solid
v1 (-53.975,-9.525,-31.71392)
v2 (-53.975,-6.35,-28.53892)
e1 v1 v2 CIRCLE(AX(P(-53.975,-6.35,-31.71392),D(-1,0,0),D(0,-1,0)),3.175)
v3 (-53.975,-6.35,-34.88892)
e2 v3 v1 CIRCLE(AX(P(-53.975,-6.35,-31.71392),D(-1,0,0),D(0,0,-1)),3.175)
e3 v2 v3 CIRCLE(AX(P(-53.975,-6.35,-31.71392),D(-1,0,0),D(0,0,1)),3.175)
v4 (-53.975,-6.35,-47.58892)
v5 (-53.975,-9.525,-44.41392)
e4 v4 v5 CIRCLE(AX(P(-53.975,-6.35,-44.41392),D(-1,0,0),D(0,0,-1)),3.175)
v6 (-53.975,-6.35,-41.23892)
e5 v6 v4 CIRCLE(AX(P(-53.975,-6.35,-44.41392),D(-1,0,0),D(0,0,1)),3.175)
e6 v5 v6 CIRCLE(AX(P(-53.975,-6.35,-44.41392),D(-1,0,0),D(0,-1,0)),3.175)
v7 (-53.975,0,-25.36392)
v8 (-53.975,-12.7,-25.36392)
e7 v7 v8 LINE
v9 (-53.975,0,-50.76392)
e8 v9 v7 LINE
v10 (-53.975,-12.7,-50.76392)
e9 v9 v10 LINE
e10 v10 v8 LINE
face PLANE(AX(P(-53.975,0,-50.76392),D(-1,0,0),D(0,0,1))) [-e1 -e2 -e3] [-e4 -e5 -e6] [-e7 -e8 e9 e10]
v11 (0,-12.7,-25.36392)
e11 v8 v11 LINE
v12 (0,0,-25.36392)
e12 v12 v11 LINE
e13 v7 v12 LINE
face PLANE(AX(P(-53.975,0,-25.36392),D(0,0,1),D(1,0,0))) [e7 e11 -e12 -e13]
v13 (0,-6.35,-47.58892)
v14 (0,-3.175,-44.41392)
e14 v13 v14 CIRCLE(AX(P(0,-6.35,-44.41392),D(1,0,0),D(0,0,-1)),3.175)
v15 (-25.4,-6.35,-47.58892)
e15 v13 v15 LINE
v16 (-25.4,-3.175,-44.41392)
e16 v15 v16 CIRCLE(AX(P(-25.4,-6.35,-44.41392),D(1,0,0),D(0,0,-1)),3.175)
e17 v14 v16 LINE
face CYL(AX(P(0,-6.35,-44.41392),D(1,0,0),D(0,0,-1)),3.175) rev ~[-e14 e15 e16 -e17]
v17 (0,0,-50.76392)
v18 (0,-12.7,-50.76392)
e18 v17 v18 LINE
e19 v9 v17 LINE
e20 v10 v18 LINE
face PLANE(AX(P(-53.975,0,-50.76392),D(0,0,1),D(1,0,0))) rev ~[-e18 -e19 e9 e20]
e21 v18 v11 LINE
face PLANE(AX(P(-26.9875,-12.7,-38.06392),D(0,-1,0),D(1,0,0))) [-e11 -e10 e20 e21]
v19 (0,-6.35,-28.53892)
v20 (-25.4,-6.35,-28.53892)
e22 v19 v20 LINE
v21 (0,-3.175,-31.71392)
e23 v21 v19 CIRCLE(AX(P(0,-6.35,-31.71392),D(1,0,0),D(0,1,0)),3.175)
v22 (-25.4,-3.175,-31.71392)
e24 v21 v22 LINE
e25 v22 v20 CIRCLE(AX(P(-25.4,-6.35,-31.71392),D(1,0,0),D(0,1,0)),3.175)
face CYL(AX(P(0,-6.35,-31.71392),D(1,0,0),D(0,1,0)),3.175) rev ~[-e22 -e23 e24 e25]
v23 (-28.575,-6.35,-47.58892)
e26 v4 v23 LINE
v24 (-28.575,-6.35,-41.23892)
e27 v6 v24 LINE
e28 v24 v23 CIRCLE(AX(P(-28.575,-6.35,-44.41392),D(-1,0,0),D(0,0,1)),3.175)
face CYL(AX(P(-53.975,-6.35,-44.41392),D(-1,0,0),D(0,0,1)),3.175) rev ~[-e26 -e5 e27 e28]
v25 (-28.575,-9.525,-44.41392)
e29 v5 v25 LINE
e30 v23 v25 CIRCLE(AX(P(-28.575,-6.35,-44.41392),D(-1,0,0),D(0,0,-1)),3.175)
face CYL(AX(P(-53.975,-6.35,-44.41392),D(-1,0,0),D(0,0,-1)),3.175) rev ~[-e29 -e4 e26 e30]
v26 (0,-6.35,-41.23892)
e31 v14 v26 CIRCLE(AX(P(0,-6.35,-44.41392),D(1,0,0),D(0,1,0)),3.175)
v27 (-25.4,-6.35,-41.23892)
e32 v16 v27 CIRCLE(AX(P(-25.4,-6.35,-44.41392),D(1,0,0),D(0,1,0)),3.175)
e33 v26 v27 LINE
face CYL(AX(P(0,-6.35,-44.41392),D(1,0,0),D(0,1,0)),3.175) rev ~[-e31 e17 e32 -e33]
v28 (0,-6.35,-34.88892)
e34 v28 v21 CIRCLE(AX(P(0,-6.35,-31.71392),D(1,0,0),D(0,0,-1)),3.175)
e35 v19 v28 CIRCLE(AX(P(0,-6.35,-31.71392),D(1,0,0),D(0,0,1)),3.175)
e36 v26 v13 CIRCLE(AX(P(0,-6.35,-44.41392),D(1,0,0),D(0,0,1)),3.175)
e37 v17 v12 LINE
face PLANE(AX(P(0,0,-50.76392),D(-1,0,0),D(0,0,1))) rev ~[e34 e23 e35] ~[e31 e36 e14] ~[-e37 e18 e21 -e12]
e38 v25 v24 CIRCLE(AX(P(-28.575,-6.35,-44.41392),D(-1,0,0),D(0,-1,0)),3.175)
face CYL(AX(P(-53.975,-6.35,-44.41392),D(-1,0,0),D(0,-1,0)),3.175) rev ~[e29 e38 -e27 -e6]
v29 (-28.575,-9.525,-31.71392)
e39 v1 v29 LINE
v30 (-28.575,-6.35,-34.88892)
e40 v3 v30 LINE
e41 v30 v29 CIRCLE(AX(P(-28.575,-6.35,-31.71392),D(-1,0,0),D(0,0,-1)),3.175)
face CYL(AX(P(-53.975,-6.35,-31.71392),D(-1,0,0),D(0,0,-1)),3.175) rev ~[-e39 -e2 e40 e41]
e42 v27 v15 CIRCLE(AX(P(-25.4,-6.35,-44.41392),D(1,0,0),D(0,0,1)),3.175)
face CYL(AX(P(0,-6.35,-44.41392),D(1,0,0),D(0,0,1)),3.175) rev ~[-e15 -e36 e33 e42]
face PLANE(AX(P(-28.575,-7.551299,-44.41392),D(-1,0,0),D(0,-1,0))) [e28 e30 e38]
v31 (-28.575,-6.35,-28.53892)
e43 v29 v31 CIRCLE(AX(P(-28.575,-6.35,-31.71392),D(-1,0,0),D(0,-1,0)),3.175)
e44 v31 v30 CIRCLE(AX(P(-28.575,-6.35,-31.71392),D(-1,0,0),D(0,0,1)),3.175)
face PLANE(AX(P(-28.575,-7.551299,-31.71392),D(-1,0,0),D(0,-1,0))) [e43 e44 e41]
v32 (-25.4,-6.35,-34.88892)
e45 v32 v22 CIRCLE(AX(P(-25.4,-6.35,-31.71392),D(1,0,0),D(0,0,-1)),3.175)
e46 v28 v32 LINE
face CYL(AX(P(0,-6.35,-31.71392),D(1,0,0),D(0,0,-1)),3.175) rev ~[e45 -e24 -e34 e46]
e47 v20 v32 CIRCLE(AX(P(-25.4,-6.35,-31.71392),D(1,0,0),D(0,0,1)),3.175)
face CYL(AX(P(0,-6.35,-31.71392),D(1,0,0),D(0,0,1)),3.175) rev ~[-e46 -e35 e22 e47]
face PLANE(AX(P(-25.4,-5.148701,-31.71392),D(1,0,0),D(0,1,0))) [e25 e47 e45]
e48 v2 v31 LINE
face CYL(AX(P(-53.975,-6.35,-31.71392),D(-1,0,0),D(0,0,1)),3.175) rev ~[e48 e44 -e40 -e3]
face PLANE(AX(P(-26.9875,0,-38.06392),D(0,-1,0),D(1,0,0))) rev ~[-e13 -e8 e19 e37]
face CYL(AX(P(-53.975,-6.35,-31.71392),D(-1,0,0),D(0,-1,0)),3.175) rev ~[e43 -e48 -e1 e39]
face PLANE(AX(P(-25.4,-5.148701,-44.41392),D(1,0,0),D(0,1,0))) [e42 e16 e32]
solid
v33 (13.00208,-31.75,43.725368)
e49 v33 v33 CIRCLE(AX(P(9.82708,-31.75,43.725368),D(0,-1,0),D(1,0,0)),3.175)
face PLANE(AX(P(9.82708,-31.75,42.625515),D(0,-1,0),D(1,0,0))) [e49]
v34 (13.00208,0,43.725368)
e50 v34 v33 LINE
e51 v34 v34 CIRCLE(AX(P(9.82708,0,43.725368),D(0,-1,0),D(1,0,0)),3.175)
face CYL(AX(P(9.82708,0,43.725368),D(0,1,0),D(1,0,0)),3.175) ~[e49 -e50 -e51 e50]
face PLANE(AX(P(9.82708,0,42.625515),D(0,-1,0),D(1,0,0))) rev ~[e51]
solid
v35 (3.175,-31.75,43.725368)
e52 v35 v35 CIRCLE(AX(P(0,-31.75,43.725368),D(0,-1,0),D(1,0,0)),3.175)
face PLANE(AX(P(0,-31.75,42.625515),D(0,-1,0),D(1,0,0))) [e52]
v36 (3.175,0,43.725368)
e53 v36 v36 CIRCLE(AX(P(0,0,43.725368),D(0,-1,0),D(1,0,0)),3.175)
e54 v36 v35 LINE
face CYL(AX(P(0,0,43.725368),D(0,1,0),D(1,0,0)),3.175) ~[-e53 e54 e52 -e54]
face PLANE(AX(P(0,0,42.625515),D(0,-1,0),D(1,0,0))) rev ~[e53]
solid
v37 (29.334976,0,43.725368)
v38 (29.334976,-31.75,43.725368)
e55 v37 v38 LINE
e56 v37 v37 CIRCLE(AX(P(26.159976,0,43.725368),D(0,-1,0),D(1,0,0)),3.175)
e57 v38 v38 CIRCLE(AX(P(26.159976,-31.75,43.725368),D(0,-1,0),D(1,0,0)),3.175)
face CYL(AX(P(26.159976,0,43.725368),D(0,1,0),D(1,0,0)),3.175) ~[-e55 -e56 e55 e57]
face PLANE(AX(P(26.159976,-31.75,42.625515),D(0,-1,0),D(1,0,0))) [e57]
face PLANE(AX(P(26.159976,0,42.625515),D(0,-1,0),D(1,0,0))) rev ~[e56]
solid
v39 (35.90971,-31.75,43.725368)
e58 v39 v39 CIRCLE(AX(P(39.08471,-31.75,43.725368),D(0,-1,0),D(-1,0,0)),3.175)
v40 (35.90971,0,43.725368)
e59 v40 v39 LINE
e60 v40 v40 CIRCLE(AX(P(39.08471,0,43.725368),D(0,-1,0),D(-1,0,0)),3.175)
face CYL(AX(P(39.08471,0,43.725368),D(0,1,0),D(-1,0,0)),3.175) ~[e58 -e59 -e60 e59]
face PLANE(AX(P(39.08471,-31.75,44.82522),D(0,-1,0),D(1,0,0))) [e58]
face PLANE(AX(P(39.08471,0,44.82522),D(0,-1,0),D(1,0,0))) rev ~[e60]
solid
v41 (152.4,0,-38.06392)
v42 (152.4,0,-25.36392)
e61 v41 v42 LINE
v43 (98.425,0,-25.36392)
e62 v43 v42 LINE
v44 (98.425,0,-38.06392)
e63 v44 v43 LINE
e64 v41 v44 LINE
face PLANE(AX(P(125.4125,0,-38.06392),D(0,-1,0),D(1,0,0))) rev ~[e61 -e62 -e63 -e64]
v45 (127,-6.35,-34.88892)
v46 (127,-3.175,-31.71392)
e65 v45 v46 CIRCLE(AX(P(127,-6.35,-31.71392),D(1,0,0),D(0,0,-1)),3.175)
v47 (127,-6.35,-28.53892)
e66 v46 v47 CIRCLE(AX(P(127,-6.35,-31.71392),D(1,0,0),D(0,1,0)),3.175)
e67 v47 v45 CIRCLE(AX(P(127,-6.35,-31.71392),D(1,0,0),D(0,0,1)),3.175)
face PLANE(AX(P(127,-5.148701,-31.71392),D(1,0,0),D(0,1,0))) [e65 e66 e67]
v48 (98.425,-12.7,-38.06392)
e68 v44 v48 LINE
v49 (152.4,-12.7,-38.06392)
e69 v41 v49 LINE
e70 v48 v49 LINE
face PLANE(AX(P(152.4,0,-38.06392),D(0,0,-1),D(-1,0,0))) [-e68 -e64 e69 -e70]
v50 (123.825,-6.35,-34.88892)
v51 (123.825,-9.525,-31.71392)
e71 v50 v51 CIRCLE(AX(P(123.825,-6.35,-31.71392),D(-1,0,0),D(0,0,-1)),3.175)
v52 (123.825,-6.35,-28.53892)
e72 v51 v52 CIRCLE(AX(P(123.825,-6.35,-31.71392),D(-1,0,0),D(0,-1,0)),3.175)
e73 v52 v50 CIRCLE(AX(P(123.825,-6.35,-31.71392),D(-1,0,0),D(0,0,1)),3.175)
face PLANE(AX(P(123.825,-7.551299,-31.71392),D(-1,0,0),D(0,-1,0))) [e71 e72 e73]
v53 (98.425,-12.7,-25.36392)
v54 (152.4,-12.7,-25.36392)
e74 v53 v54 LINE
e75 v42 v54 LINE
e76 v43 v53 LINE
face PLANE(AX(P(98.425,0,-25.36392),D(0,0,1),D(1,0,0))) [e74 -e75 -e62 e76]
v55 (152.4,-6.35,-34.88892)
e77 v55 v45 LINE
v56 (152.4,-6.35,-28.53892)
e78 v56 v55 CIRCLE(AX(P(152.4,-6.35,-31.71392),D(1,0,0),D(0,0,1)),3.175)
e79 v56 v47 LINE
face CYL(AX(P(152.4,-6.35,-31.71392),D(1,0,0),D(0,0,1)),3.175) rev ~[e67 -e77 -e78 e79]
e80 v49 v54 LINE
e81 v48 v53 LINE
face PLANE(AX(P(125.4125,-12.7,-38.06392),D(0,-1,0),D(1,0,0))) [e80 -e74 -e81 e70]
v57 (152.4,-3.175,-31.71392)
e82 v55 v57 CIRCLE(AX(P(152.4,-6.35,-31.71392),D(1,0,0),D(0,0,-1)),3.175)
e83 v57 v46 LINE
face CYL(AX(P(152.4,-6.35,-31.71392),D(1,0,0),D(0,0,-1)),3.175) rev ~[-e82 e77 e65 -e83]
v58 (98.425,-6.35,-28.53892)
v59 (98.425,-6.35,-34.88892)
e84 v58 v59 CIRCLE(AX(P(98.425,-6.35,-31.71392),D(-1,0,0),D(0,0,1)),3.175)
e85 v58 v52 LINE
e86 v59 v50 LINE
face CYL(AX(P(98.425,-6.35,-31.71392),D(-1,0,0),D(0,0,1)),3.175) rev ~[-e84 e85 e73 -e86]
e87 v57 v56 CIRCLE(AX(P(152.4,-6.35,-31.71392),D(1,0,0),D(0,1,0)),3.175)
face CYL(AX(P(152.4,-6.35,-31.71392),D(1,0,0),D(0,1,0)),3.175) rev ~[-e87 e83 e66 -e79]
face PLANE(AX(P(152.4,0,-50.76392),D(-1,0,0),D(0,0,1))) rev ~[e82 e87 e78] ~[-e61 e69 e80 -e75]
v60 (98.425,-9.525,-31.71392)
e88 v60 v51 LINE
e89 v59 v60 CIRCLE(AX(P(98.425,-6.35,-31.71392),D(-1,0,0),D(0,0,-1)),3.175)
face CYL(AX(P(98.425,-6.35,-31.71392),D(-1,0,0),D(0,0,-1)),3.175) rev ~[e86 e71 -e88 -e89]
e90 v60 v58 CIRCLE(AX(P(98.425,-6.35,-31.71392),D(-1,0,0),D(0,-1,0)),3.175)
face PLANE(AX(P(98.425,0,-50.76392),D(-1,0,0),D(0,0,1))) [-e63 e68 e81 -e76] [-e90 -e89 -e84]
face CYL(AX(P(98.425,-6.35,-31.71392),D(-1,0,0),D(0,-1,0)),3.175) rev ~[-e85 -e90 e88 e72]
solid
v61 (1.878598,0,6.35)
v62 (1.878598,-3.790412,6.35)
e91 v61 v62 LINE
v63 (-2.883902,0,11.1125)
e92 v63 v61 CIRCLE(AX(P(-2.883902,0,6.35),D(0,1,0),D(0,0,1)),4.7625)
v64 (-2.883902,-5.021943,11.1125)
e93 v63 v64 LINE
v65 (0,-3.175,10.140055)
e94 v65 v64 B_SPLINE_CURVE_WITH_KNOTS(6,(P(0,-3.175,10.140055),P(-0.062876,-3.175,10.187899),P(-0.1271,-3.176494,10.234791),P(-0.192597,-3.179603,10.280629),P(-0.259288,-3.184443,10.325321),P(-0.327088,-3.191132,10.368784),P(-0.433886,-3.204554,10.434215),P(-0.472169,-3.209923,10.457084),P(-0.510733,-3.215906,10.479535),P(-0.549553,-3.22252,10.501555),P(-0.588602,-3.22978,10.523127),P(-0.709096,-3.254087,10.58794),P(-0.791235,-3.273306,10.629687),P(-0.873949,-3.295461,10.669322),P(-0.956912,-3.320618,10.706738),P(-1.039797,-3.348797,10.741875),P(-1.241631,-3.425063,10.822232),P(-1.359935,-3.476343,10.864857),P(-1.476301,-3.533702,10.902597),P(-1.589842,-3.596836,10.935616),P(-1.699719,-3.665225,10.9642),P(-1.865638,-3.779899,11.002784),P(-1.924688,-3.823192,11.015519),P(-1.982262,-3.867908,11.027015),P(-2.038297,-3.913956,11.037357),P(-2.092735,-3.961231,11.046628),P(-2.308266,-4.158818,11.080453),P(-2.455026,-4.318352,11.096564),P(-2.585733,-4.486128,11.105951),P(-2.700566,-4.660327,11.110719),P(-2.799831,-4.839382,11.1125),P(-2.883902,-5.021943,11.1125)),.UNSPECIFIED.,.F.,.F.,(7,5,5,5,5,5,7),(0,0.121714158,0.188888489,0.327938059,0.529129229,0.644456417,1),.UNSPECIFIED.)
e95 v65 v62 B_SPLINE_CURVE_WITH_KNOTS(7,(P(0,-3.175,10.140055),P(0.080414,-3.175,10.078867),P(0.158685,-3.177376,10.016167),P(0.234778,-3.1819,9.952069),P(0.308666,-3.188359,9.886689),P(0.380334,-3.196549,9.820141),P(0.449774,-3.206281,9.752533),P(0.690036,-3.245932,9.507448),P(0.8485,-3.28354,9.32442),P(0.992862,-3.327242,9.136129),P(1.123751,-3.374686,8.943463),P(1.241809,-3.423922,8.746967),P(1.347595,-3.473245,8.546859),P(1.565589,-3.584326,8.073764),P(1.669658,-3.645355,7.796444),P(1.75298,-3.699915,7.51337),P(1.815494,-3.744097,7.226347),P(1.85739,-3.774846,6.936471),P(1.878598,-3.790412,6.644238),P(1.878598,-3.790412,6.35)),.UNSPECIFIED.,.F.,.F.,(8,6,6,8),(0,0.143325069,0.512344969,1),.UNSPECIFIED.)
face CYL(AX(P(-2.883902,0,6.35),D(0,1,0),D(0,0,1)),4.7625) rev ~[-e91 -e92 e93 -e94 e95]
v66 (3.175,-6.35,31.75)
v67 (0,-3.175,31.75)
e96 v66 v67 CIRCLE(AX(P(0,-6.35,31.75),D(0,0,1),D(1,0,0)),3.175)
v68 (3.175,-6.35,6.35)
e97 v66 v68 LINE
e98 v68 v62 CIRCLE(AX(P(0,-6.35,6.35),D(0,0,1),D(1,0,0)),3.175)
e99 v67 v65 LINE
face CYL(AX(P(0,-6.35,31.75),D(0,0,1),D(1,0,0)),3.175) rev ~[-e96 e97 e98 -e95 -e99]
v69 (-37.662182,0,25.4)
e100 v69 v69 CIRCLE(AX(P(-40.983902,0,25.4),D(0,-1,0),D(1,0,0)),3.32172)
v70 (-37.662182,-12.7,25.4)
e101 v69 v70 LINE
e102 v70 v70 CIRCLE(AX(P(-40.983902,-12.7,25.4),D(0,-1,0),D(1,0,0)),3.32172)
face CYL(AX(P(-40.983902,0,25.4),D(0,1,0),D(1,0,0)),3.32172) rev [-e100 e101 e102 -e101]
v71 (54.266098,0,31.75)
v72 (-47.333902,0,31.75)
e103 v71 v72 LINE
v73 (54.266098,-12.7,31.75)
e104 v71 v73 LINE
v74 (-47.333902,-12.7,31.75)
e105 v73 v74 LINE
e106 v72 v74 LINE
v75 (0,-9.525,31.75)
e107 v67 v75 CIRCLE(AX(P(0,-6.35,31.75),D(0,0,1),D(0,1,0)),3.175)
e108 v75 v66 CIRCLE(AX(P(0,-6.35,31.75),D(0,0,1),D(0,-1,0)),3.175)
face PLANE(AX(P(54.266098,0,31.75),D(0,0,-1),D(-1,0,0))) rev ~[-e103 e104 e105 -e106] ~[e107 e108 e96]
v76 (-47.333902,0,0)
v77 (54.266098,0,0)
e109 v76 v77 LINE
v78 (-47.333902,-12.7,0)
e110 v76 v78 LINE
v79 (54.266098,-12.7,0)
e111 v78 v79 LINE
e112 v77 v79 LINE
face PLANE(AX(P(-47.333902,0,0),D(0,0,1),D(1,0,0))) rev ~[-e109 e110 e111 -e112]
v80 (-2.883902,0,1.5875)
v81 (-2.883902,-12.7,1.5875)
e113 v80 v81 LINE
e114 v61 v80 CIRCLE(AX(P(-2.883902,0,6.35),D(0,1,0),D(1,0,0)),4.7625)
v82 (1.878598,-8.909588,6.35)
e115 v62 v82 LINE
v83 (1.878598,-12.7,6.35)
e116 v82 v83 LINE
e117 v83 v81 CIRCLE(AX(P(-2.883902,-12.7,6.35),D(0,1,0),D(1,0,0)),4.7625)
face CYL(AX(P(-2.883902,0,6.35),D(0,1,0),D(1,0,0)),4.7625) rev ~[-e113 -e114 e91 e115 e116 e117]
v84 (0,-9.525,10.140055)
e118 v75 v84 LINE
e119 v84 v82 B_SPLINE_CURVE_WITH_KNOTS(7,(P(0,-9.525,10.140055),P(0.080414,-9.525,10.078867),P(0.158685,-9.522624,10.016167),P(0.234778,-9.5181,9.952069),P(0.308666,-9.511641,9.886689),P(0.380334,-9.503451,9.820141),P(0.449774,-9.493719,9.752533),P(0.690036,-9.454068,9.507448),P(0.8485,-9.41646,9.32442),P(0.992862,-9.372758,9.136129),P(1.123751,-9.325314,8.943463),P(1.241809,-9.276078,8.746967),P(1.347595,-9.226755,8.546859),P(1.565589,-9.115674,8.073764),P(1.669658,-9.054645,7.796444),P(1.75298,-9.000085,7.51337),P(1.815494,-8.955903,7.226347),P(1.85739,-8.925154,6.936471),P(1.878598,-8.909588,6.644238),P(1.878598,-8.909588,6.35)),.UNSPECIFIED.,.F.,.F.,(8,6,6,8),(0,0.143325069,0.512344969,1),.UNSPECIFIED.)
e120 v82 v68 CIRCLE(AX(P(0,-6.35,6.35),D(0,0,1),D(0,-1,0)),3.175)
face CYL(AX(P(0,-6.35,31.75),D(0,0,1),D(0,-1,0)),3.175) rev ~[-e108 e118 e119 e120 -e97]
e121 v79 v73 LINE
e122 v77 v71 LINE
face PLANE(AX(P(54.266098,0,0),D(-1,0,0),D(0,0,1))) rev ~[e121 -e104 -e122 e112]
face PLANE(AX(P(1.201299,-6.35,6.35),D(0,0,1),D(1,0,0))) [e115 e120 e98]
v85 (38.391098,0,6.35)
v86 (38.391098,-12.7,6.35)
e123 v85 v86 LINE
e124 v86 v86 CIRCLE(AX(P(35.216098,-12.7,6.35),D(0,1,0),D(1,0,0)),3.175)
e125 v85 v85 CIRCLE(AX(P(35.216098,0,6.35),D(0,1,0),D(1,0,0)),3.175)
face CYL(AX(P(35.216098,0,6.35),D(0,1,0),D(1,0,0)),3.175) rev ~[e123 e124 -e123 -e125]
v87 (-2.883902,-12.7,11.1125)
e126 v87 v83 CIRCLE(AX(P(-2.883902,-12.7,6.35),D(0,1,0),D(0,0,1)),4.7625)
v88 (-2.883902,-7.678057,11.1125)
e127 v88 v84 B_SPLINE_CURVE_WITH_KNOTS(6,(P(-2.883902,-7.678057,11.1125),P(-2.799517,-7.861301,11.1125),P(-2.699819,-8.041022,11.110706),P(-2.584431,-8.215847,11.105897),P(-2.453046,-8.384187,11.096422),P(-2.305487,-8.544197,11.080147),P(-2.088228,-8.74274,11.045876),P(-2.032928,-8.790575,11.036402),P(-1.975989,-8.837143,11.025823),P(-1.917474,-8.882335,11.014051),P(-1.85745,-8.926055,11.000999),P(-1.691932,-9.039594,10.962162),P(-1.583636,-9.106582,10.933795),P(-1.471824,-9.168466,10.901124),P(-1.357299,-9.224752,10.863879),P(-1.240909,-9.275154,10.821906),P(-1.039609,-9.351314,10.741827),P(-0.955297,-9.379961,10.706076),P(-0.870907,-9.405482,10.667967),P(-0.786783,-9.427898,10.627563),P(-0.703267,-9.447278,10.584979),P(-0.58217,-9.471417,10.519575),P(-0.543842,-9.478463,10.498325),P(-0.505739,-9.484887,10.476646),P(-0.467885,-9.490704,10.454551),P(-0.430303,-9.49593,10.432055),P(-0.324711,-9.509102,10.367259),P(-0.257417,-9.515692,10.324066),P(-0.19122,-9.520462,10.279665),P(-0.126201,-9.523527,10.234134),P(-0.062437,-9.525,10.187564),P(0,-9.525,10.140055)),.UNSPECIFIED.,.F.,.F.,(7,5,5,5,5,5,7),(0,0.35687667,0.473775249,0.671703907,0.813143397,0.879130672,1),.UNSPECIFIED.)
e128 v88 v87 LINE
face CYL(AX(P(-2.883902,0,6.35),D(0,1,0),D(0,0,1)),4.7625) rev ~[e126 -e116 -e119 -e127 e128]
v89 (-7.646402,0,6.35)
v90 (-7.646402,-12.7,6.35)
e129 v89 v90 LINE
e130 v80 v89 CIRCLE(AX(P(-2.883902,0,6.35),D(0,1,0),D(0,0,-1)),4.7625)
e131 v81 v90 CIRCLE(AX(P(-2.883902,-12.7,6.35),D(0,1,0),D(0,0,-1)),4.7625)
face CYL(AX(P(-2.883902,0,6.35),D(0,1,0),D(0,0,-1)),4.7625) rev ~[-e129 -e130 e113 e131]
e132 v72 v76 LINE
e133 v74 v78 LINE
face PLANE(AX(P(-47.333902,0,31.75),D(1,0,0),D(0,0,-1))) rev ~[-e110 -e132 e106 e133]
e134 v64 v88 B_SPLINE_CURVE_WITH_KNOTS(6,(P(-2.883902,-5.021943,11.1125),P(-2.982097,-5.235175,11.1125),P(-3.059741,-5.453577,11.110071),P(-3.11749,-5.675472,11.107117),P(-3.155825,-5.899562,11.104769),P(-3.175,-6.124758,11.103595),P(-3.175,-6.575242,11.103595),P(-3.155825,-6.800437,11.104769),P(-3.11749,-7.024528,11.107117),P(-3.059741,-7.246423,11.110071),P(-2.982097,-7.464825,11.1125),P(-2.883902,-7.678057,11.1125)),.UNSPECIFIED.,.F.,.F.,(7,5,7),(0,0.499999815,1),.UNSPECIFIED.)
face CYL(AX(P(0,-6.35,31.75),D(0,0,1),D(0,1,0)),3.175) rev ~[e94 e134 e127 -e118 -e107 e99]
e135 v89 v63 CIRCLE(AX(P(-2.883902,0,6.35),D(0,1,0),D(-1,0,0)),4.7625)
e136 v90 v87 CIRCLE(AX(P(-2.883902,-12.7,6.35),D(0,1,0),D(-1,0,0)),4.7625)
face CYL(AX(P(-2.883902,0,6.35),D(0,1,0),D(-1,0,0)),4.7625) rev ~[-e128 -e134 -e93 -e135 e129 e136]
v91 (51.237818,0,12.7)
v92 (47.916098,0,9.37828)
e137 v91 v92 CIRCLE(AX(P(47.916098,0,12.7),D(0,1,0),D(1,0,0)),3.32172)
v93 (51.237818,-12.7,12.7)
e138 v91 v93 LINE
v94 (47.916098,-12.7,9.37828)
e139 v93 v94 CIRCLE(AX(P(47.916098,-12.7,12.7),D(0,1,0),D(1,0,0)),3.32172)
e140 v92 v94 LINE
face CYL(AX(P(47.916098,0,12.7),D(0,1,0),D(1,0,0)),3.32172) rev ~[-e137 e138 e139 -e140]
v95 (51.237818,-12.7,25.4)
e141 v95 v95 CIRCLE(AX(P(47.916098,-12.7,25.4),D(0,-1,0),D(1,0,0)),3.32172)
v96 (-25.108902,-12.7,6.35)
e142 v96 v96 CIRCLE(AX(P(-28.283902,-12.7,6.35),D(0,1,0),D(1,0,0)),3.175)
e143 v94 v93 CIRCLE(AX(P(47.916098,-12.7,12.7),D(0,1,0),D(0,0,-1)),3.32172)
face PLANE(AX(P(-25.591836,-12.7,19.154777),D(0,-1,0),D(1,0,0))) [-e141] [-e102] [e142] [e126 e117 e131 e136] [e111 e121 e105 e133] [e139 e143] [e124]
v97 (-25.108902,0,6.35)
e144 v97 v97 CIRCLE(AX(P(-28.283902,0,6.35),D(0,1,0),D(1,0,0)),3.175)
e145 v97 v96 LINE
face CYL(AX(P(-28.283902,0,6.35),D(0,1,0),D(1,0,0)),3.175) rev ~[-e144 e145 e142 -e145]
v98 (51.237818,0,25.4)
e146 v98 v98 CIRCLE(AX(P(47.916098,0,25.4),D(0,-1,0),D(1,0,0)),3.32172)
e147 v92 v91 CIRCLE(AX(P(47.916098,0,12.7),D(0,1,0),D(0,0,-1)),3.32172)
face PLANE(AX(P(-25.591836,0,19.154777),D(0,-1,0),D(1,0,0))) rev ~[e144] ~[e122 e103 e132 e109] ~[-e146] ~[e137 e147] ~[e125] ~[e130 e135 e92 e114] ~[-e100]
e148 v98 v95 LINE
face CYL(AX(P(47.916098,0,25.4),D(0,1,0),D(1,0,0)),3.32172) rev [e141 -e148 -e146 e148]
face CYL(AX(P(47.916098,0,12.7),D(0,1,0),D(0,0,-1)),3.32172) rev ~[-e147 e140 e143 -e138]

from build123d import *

# Parameters (mm, degrees)
F0_R      = 3.3217197239
F0_W      = 6.35
F0_H      = 6.35
F1_DEPTH  = 12.7
F0_W_2    = 53.975
F0_H_2    = 25.4
F3_DEPTH  = 25.4
F5_DEPTH  = 25.4
F7_DEPTH  = 31.75
F9_DEPTH  = 25.4
F11_W     = 53.975
F11_H     = 12.7
F12_DEPTH = 25.4


with BuildPart() as f1:
    # F0 (on Front) → F1 (new body)
    with BuildSketch(Plane.XZ):
        with BuildLine():
            Line((-2.8839016237, 31.75), (-47.3339016237, 31.75))
            Line((-47.3339016237, 31.75), (-47.3339016237, 6.35))
            Line((-47.3339016237, 6.35), (-31.4589016237, 6.35))
            ThreePointArc((-31.4589016237, 6.35), (-28.2839016237, 9.525), (-25.1089016237, 6.35))
            Line((-25.1089016237, 6.35), (-7.6464016237, 6.35))
            ThreePointArc((-7.6464016237, 6.35), (-6.2514976691, 9.7175960454), (-2.8839016237, 11.1125))
            Line((-2.8839016237, 11.1125), (-2.8839016237, 31.75))
        make_face()
        with Locations((-40.9839016237, 25.4)):
            Circle(F0_R, mode=Mode.SUBTRACT)
        with BuildLine():
            Line((54.2660983763, 31.75), (-2.8839016237, 31.75))
            Line((-2.8839016237, 31.75), (-2.8839016237, 11.1125))
            ThreePointArc((-2.8839016237, 11.1125), (0.4836944217, 9.7175960454), (1.8785983763, 6.35))
            Line((1.8785983763, 6.35), (32.0410983763, 6.35))
            ThreePointArc((32.0410983763, 6.35), (35.2160983763, 9.525), (38.3910983763, 6.35))
            Line((38.3910983763, 6.35), (47.9160983763, 6.35))
            Line((47.9160983763, 6.35), (54.2660983763, 6.35))
            Line((54.2660983763, 6.35), (54.2660983763, 31.75))
        make_face()
        with BuildLine():
            ThreePointArc((51.2378181002, 12.7), (50.2649089182, 10.351189458), (47.9160983763, 9.3782802761))
            ThreePointArc((47.9160983763, 9.3782802761), (45.5672878343, 15.048810542), (51.2378181002, 12.7))
        make_face(mode=Mode.SUBTRACT)
        with Locations((47.9160983763, 25.4)):
            Circle(F0_R, mode=Mode.SUBTRACT)
        with BuildLine():
            Line((-31.4589016237, 6.35), (-47.3339016237, 6.35))
            Line((-47.3339016237, 6.35), (-47.3339016237, 0))
            Line((-47.3339016237, 0), (-2.8839016237, 0))
            Line((-2.8839016237, 0), (-2.8839016237, 1.5875))
            ThreePointArc((-2.8839016237, 1.5875), (-6.2514976691, 2.9824039546), (-7.6464016237, 6.35))
            Line((-7.6464016237, 6.35), (-25.1089016237, 6.35))
            ThreePointArc((-25.1089016237, 6.35), (-28.2839016237, 3.175), (-31.4589016237, 6.35))
        make_face()
        with Locations((51.0910983763, 3.175)):
            Rectangle(F0_W, F0_H)
        with BuildLine():
            Line((32.0410983763, 6.35), (1.8785983763, 6.35))
            ThreePointArc((1.8785983763, 6.35), (0.4836944217, 2.9824039546), (-2.8839016237, 1.5875))
            Line((-2.8839016237, 1.5875), (-2.8839016237, 0))
            Line((-2.8839016237, 0), (47.9160983763, 0))
            Line((47.9160983763, 0), (47.9160983763, 6.35))
            Line((47.9160983763, 6.35), (38.3910983763, 6.35))
            ThreePointArc((38.3910983763, 6.35), (35.2160983763, 3.175), (32.0410983763, 6.35))
        make_face()
    extrude(amount=F1_DEPTH)

    # F8 (on face) → F9 (cut)
    with BuildSketch(Plane.XY.offset(31.75)):
        with BuildLine():
            ThreePointArc((3.175, -6.35), (2.2450640303, -4.1049359697), (0, -3.175))
            Line((0, -3.175), (0, -9.525))
            ThreePointArc((0, -9.525), (2.2450640303, -8.5950640303), (3.175, -6.35))
        make_face()
        with BuildLine():
            Line((0, -9.525), (0, -3.175))
            ThreePointArc((0, -3.175), (-3.175, -6.35), (0, -9.525))
        make_face()
    extrude(amount=-F9_DEPTH, mode=Mode.SUBTRACT)


with BuildPart() as f1b:
    # F0 (on Front) → F1, piece 2 (new body)
    with BuildSketch(Plane.XZ):
        with Locations((-26.9875, -38.0639199495)):
            Rectangle(F0_W_2, F0_H_2)
    extrude(amount=F1_DEPTH)

    # F2 (on face) → F3 (cut)
    with BuildSketch(Plane(origin=(-53.975, 0, 0), x_dir=(0, -1, 0), z_dir=(-1, 0, 0))):
        with BuildLine():
            ThreePointArc((9.525, -31.7139199495), (8.5950640303, -29.4688559193), (6.35, -28.5389199495))
            Line((6.35, -28.5389199495), (6.35, -34.8889199495))
            ThreePointArc((6.35, -34.8889199495), (8.5950640303, -33.9589839798), (9.525, -31.7139199495))
        make_face()
        with BuildLine():
            ThreePointArc((9.525, -44.4139199495), (8.5950640303, -42.1688559193), (6.35, -41.2389199495))
            Line((6.35, -41.2389199495), (6.35, -47.5889199495))
            ThreePointArc((6.35, -47.5889199495), (8.5950640303, -46.6589839798), (9.525, -44.4139199495))
        make_face()
        with BuildLine():
            Line((6.35, -47.5889199495), (6.35, -41.2389199495))
            ThreePointArc((6.35, -41.2389199495), (3.175, -44.4139199495), (6.35, -47.5889199495))
        make_face()
        with BuildLine():
            Line((6.35, -34.8889199495), (6.35, -28.5389199495))
            ThreePointArc((6.35, -28.5389199495), (3.175, -31.7139199495), (6.35, -34.8889199495))
        make_face()
    extrude(amount=-F3_DEPTH, mode=Mode.SUBTRACT)

    # F4 (on face) → F5 (cut)
    with BuildSketch(Plane.YZ):
        with BuildLine():
            ThreePointArc((-3.175, -31.7139199495), (-4.1049359697, -29.4688559193), (-6.35, -28.5389199495))
            Line((-6.35, -28.5389199495), (-6.35, -34.8889199495))
            ThreePointArc((-6.35, -34.8889199495), (-4.1049359697, -33.9589839798), (-3.175, -31.7139199495))
        make_face()
        with BuildLine():
            ThreePointArc((-3.175, -44.4139199495), (-4.1049359697, -42.1688559193), (-6.35, -41.2389199495))
            Line((-6.35, -41.2389199495), (-6.35, -47.5889199495))
            ThreePointArc((-6.35, -47.5889199495), (-4.1049359697, -46.6589839798), (-3.175, -44.4139199495))
        make_face()
        with BuildLine():
            Line((-6.35, -47.5889199495), (-6.35, -41.2389199495))
            ThreePointArc((-6.35, -41.2389199495), (-9.525, -44.4139199495), (-6.35, -47.5889199495))
        make_face()
        with BuildLine():
            Line((-6.35, -34.8889199495), (-6.35, -28.5389199495))
            ThreePointArc((-6.35, -28.5389199495), (-9.525, -31.7139199495), (-6.35, -34.8889199495))
        make_face()
    extrude(amount=-F5_DEPTH, mode=Mode.SUBTRACT)


with BuildPart() as f7:
    # F6 (on Front) → F7 (new body)
    with BuildSketch(Plane.XZ):
        with BuildLine():
            Line((35.9097101808, 43.7253676355), (42.2597101808, 43.7253676355))
            ThreePointArc((42.2597101808, 43.7253676355), (39.0847101808, 46.9003676355), (35.9097101808, 43.7253676355))
        make_face()
        with BuildLine():
            ThreePointArc((35.9097101808, 43.7253676355), (39.0847101808, 40.5503676355), (42.2597101808, 43.7253676355))
            Line((42.2597101808, 43.7253676355), (35.9097101808, 43.7253676355))
        make_face()
    extrude(amount=F7_DEPTH)


with BuildPart() as f7b:
    # F6 (on Front) → F7, piece 2 (new body)
    with BuildSketch(Plane.XZ):
        with BuildLine():
            ThreePointArc((-3.175, 43.7253676355), (0, 40.5503676355), (3.175, 43.7253676355))
            Line((3.175, 43.7253676355), (-3.175, 43.7253676355))
        make_face()
        with BuildLine():
            Line((-3.175, 43.7253676355), (3.175, 43.7253676355))
            ThreePointArc((3.175, 43.7253676355), (0, 46.9003676355), (-3.175, 43.7253676355))
        make_face()
    extrude(amount=F7_DEPTH)


with BuildPart() as f7c:
    # F6 (on Front) → F7, piece 3 (new body)
    with BuildSketch(Plane.XZ):
        with BuildLine():
            ThreePointArc((6.6520801827, 43.7253676355), (9.8270801827, 40.5503676355), (13.0020801827, 43.7253676355))
            Line((13.0020801827, 43.7253676355), (6.6520801827, 43.7253676355))
        make_face()
        with BuildLine():
            Line((6.6520801827, 43.7253676355), (13.0020801827, 43.7253676355))
            ThreePointArc((13.0020801827, 43.7253676355), (9.8270801827, 46.9003676355), (6.6520801827, 43.7253676355))
        make_face()
    extrude(amount=F7_DEPTH)


with BuildPart() as f7d:
    # F6 (on Front) → F7, piece 4 (new body)
    with BuildSketch(Plane.XZ):
        with BuildLine():
            ThreePointArc((22.9849756777, 43.7253676355), (26.1599756777, 40.5503676355), (29.3349756777, 43.7253676355))
            Line((29.3349756777, 43.7253676355), (22.9849756777, 43.7253676355))
        make_face()
        with BuildLine():
            Line((22.9849756777, 43.7253676355), (29.3349756777, 43.7253676355))
            ThreePointArc((29.3349756777, 43.7253676355), (26.1599756777, 46.9003676355), (22.9849756777, 43.7253676355))
        make_face()
    extrude(amount=F7_DEPTH)


with BuildPart() as f10_1:
    # F10: copy of F1b
    add(f1b.part.moved(Location((152.4, 0, 0))))

    # F11 (on face) → F12 (cut)
    with BuildSketch(Plane(origin=(0, 0, 0), x_dir=(-1, 0, 0), z_dir=(0, 1, 0))):
        with Locations((-125.4125, -44.4139199495)):
            Rectangle(F11_W, F11_H)
    extrude(amount=-F12_DEPTH, mode=Mode.SUBTRACT)


solid = Compound([f1.part, f1b.part, f7.part, f7b.part, f7c.part, f7d.part, f10_1.part])
